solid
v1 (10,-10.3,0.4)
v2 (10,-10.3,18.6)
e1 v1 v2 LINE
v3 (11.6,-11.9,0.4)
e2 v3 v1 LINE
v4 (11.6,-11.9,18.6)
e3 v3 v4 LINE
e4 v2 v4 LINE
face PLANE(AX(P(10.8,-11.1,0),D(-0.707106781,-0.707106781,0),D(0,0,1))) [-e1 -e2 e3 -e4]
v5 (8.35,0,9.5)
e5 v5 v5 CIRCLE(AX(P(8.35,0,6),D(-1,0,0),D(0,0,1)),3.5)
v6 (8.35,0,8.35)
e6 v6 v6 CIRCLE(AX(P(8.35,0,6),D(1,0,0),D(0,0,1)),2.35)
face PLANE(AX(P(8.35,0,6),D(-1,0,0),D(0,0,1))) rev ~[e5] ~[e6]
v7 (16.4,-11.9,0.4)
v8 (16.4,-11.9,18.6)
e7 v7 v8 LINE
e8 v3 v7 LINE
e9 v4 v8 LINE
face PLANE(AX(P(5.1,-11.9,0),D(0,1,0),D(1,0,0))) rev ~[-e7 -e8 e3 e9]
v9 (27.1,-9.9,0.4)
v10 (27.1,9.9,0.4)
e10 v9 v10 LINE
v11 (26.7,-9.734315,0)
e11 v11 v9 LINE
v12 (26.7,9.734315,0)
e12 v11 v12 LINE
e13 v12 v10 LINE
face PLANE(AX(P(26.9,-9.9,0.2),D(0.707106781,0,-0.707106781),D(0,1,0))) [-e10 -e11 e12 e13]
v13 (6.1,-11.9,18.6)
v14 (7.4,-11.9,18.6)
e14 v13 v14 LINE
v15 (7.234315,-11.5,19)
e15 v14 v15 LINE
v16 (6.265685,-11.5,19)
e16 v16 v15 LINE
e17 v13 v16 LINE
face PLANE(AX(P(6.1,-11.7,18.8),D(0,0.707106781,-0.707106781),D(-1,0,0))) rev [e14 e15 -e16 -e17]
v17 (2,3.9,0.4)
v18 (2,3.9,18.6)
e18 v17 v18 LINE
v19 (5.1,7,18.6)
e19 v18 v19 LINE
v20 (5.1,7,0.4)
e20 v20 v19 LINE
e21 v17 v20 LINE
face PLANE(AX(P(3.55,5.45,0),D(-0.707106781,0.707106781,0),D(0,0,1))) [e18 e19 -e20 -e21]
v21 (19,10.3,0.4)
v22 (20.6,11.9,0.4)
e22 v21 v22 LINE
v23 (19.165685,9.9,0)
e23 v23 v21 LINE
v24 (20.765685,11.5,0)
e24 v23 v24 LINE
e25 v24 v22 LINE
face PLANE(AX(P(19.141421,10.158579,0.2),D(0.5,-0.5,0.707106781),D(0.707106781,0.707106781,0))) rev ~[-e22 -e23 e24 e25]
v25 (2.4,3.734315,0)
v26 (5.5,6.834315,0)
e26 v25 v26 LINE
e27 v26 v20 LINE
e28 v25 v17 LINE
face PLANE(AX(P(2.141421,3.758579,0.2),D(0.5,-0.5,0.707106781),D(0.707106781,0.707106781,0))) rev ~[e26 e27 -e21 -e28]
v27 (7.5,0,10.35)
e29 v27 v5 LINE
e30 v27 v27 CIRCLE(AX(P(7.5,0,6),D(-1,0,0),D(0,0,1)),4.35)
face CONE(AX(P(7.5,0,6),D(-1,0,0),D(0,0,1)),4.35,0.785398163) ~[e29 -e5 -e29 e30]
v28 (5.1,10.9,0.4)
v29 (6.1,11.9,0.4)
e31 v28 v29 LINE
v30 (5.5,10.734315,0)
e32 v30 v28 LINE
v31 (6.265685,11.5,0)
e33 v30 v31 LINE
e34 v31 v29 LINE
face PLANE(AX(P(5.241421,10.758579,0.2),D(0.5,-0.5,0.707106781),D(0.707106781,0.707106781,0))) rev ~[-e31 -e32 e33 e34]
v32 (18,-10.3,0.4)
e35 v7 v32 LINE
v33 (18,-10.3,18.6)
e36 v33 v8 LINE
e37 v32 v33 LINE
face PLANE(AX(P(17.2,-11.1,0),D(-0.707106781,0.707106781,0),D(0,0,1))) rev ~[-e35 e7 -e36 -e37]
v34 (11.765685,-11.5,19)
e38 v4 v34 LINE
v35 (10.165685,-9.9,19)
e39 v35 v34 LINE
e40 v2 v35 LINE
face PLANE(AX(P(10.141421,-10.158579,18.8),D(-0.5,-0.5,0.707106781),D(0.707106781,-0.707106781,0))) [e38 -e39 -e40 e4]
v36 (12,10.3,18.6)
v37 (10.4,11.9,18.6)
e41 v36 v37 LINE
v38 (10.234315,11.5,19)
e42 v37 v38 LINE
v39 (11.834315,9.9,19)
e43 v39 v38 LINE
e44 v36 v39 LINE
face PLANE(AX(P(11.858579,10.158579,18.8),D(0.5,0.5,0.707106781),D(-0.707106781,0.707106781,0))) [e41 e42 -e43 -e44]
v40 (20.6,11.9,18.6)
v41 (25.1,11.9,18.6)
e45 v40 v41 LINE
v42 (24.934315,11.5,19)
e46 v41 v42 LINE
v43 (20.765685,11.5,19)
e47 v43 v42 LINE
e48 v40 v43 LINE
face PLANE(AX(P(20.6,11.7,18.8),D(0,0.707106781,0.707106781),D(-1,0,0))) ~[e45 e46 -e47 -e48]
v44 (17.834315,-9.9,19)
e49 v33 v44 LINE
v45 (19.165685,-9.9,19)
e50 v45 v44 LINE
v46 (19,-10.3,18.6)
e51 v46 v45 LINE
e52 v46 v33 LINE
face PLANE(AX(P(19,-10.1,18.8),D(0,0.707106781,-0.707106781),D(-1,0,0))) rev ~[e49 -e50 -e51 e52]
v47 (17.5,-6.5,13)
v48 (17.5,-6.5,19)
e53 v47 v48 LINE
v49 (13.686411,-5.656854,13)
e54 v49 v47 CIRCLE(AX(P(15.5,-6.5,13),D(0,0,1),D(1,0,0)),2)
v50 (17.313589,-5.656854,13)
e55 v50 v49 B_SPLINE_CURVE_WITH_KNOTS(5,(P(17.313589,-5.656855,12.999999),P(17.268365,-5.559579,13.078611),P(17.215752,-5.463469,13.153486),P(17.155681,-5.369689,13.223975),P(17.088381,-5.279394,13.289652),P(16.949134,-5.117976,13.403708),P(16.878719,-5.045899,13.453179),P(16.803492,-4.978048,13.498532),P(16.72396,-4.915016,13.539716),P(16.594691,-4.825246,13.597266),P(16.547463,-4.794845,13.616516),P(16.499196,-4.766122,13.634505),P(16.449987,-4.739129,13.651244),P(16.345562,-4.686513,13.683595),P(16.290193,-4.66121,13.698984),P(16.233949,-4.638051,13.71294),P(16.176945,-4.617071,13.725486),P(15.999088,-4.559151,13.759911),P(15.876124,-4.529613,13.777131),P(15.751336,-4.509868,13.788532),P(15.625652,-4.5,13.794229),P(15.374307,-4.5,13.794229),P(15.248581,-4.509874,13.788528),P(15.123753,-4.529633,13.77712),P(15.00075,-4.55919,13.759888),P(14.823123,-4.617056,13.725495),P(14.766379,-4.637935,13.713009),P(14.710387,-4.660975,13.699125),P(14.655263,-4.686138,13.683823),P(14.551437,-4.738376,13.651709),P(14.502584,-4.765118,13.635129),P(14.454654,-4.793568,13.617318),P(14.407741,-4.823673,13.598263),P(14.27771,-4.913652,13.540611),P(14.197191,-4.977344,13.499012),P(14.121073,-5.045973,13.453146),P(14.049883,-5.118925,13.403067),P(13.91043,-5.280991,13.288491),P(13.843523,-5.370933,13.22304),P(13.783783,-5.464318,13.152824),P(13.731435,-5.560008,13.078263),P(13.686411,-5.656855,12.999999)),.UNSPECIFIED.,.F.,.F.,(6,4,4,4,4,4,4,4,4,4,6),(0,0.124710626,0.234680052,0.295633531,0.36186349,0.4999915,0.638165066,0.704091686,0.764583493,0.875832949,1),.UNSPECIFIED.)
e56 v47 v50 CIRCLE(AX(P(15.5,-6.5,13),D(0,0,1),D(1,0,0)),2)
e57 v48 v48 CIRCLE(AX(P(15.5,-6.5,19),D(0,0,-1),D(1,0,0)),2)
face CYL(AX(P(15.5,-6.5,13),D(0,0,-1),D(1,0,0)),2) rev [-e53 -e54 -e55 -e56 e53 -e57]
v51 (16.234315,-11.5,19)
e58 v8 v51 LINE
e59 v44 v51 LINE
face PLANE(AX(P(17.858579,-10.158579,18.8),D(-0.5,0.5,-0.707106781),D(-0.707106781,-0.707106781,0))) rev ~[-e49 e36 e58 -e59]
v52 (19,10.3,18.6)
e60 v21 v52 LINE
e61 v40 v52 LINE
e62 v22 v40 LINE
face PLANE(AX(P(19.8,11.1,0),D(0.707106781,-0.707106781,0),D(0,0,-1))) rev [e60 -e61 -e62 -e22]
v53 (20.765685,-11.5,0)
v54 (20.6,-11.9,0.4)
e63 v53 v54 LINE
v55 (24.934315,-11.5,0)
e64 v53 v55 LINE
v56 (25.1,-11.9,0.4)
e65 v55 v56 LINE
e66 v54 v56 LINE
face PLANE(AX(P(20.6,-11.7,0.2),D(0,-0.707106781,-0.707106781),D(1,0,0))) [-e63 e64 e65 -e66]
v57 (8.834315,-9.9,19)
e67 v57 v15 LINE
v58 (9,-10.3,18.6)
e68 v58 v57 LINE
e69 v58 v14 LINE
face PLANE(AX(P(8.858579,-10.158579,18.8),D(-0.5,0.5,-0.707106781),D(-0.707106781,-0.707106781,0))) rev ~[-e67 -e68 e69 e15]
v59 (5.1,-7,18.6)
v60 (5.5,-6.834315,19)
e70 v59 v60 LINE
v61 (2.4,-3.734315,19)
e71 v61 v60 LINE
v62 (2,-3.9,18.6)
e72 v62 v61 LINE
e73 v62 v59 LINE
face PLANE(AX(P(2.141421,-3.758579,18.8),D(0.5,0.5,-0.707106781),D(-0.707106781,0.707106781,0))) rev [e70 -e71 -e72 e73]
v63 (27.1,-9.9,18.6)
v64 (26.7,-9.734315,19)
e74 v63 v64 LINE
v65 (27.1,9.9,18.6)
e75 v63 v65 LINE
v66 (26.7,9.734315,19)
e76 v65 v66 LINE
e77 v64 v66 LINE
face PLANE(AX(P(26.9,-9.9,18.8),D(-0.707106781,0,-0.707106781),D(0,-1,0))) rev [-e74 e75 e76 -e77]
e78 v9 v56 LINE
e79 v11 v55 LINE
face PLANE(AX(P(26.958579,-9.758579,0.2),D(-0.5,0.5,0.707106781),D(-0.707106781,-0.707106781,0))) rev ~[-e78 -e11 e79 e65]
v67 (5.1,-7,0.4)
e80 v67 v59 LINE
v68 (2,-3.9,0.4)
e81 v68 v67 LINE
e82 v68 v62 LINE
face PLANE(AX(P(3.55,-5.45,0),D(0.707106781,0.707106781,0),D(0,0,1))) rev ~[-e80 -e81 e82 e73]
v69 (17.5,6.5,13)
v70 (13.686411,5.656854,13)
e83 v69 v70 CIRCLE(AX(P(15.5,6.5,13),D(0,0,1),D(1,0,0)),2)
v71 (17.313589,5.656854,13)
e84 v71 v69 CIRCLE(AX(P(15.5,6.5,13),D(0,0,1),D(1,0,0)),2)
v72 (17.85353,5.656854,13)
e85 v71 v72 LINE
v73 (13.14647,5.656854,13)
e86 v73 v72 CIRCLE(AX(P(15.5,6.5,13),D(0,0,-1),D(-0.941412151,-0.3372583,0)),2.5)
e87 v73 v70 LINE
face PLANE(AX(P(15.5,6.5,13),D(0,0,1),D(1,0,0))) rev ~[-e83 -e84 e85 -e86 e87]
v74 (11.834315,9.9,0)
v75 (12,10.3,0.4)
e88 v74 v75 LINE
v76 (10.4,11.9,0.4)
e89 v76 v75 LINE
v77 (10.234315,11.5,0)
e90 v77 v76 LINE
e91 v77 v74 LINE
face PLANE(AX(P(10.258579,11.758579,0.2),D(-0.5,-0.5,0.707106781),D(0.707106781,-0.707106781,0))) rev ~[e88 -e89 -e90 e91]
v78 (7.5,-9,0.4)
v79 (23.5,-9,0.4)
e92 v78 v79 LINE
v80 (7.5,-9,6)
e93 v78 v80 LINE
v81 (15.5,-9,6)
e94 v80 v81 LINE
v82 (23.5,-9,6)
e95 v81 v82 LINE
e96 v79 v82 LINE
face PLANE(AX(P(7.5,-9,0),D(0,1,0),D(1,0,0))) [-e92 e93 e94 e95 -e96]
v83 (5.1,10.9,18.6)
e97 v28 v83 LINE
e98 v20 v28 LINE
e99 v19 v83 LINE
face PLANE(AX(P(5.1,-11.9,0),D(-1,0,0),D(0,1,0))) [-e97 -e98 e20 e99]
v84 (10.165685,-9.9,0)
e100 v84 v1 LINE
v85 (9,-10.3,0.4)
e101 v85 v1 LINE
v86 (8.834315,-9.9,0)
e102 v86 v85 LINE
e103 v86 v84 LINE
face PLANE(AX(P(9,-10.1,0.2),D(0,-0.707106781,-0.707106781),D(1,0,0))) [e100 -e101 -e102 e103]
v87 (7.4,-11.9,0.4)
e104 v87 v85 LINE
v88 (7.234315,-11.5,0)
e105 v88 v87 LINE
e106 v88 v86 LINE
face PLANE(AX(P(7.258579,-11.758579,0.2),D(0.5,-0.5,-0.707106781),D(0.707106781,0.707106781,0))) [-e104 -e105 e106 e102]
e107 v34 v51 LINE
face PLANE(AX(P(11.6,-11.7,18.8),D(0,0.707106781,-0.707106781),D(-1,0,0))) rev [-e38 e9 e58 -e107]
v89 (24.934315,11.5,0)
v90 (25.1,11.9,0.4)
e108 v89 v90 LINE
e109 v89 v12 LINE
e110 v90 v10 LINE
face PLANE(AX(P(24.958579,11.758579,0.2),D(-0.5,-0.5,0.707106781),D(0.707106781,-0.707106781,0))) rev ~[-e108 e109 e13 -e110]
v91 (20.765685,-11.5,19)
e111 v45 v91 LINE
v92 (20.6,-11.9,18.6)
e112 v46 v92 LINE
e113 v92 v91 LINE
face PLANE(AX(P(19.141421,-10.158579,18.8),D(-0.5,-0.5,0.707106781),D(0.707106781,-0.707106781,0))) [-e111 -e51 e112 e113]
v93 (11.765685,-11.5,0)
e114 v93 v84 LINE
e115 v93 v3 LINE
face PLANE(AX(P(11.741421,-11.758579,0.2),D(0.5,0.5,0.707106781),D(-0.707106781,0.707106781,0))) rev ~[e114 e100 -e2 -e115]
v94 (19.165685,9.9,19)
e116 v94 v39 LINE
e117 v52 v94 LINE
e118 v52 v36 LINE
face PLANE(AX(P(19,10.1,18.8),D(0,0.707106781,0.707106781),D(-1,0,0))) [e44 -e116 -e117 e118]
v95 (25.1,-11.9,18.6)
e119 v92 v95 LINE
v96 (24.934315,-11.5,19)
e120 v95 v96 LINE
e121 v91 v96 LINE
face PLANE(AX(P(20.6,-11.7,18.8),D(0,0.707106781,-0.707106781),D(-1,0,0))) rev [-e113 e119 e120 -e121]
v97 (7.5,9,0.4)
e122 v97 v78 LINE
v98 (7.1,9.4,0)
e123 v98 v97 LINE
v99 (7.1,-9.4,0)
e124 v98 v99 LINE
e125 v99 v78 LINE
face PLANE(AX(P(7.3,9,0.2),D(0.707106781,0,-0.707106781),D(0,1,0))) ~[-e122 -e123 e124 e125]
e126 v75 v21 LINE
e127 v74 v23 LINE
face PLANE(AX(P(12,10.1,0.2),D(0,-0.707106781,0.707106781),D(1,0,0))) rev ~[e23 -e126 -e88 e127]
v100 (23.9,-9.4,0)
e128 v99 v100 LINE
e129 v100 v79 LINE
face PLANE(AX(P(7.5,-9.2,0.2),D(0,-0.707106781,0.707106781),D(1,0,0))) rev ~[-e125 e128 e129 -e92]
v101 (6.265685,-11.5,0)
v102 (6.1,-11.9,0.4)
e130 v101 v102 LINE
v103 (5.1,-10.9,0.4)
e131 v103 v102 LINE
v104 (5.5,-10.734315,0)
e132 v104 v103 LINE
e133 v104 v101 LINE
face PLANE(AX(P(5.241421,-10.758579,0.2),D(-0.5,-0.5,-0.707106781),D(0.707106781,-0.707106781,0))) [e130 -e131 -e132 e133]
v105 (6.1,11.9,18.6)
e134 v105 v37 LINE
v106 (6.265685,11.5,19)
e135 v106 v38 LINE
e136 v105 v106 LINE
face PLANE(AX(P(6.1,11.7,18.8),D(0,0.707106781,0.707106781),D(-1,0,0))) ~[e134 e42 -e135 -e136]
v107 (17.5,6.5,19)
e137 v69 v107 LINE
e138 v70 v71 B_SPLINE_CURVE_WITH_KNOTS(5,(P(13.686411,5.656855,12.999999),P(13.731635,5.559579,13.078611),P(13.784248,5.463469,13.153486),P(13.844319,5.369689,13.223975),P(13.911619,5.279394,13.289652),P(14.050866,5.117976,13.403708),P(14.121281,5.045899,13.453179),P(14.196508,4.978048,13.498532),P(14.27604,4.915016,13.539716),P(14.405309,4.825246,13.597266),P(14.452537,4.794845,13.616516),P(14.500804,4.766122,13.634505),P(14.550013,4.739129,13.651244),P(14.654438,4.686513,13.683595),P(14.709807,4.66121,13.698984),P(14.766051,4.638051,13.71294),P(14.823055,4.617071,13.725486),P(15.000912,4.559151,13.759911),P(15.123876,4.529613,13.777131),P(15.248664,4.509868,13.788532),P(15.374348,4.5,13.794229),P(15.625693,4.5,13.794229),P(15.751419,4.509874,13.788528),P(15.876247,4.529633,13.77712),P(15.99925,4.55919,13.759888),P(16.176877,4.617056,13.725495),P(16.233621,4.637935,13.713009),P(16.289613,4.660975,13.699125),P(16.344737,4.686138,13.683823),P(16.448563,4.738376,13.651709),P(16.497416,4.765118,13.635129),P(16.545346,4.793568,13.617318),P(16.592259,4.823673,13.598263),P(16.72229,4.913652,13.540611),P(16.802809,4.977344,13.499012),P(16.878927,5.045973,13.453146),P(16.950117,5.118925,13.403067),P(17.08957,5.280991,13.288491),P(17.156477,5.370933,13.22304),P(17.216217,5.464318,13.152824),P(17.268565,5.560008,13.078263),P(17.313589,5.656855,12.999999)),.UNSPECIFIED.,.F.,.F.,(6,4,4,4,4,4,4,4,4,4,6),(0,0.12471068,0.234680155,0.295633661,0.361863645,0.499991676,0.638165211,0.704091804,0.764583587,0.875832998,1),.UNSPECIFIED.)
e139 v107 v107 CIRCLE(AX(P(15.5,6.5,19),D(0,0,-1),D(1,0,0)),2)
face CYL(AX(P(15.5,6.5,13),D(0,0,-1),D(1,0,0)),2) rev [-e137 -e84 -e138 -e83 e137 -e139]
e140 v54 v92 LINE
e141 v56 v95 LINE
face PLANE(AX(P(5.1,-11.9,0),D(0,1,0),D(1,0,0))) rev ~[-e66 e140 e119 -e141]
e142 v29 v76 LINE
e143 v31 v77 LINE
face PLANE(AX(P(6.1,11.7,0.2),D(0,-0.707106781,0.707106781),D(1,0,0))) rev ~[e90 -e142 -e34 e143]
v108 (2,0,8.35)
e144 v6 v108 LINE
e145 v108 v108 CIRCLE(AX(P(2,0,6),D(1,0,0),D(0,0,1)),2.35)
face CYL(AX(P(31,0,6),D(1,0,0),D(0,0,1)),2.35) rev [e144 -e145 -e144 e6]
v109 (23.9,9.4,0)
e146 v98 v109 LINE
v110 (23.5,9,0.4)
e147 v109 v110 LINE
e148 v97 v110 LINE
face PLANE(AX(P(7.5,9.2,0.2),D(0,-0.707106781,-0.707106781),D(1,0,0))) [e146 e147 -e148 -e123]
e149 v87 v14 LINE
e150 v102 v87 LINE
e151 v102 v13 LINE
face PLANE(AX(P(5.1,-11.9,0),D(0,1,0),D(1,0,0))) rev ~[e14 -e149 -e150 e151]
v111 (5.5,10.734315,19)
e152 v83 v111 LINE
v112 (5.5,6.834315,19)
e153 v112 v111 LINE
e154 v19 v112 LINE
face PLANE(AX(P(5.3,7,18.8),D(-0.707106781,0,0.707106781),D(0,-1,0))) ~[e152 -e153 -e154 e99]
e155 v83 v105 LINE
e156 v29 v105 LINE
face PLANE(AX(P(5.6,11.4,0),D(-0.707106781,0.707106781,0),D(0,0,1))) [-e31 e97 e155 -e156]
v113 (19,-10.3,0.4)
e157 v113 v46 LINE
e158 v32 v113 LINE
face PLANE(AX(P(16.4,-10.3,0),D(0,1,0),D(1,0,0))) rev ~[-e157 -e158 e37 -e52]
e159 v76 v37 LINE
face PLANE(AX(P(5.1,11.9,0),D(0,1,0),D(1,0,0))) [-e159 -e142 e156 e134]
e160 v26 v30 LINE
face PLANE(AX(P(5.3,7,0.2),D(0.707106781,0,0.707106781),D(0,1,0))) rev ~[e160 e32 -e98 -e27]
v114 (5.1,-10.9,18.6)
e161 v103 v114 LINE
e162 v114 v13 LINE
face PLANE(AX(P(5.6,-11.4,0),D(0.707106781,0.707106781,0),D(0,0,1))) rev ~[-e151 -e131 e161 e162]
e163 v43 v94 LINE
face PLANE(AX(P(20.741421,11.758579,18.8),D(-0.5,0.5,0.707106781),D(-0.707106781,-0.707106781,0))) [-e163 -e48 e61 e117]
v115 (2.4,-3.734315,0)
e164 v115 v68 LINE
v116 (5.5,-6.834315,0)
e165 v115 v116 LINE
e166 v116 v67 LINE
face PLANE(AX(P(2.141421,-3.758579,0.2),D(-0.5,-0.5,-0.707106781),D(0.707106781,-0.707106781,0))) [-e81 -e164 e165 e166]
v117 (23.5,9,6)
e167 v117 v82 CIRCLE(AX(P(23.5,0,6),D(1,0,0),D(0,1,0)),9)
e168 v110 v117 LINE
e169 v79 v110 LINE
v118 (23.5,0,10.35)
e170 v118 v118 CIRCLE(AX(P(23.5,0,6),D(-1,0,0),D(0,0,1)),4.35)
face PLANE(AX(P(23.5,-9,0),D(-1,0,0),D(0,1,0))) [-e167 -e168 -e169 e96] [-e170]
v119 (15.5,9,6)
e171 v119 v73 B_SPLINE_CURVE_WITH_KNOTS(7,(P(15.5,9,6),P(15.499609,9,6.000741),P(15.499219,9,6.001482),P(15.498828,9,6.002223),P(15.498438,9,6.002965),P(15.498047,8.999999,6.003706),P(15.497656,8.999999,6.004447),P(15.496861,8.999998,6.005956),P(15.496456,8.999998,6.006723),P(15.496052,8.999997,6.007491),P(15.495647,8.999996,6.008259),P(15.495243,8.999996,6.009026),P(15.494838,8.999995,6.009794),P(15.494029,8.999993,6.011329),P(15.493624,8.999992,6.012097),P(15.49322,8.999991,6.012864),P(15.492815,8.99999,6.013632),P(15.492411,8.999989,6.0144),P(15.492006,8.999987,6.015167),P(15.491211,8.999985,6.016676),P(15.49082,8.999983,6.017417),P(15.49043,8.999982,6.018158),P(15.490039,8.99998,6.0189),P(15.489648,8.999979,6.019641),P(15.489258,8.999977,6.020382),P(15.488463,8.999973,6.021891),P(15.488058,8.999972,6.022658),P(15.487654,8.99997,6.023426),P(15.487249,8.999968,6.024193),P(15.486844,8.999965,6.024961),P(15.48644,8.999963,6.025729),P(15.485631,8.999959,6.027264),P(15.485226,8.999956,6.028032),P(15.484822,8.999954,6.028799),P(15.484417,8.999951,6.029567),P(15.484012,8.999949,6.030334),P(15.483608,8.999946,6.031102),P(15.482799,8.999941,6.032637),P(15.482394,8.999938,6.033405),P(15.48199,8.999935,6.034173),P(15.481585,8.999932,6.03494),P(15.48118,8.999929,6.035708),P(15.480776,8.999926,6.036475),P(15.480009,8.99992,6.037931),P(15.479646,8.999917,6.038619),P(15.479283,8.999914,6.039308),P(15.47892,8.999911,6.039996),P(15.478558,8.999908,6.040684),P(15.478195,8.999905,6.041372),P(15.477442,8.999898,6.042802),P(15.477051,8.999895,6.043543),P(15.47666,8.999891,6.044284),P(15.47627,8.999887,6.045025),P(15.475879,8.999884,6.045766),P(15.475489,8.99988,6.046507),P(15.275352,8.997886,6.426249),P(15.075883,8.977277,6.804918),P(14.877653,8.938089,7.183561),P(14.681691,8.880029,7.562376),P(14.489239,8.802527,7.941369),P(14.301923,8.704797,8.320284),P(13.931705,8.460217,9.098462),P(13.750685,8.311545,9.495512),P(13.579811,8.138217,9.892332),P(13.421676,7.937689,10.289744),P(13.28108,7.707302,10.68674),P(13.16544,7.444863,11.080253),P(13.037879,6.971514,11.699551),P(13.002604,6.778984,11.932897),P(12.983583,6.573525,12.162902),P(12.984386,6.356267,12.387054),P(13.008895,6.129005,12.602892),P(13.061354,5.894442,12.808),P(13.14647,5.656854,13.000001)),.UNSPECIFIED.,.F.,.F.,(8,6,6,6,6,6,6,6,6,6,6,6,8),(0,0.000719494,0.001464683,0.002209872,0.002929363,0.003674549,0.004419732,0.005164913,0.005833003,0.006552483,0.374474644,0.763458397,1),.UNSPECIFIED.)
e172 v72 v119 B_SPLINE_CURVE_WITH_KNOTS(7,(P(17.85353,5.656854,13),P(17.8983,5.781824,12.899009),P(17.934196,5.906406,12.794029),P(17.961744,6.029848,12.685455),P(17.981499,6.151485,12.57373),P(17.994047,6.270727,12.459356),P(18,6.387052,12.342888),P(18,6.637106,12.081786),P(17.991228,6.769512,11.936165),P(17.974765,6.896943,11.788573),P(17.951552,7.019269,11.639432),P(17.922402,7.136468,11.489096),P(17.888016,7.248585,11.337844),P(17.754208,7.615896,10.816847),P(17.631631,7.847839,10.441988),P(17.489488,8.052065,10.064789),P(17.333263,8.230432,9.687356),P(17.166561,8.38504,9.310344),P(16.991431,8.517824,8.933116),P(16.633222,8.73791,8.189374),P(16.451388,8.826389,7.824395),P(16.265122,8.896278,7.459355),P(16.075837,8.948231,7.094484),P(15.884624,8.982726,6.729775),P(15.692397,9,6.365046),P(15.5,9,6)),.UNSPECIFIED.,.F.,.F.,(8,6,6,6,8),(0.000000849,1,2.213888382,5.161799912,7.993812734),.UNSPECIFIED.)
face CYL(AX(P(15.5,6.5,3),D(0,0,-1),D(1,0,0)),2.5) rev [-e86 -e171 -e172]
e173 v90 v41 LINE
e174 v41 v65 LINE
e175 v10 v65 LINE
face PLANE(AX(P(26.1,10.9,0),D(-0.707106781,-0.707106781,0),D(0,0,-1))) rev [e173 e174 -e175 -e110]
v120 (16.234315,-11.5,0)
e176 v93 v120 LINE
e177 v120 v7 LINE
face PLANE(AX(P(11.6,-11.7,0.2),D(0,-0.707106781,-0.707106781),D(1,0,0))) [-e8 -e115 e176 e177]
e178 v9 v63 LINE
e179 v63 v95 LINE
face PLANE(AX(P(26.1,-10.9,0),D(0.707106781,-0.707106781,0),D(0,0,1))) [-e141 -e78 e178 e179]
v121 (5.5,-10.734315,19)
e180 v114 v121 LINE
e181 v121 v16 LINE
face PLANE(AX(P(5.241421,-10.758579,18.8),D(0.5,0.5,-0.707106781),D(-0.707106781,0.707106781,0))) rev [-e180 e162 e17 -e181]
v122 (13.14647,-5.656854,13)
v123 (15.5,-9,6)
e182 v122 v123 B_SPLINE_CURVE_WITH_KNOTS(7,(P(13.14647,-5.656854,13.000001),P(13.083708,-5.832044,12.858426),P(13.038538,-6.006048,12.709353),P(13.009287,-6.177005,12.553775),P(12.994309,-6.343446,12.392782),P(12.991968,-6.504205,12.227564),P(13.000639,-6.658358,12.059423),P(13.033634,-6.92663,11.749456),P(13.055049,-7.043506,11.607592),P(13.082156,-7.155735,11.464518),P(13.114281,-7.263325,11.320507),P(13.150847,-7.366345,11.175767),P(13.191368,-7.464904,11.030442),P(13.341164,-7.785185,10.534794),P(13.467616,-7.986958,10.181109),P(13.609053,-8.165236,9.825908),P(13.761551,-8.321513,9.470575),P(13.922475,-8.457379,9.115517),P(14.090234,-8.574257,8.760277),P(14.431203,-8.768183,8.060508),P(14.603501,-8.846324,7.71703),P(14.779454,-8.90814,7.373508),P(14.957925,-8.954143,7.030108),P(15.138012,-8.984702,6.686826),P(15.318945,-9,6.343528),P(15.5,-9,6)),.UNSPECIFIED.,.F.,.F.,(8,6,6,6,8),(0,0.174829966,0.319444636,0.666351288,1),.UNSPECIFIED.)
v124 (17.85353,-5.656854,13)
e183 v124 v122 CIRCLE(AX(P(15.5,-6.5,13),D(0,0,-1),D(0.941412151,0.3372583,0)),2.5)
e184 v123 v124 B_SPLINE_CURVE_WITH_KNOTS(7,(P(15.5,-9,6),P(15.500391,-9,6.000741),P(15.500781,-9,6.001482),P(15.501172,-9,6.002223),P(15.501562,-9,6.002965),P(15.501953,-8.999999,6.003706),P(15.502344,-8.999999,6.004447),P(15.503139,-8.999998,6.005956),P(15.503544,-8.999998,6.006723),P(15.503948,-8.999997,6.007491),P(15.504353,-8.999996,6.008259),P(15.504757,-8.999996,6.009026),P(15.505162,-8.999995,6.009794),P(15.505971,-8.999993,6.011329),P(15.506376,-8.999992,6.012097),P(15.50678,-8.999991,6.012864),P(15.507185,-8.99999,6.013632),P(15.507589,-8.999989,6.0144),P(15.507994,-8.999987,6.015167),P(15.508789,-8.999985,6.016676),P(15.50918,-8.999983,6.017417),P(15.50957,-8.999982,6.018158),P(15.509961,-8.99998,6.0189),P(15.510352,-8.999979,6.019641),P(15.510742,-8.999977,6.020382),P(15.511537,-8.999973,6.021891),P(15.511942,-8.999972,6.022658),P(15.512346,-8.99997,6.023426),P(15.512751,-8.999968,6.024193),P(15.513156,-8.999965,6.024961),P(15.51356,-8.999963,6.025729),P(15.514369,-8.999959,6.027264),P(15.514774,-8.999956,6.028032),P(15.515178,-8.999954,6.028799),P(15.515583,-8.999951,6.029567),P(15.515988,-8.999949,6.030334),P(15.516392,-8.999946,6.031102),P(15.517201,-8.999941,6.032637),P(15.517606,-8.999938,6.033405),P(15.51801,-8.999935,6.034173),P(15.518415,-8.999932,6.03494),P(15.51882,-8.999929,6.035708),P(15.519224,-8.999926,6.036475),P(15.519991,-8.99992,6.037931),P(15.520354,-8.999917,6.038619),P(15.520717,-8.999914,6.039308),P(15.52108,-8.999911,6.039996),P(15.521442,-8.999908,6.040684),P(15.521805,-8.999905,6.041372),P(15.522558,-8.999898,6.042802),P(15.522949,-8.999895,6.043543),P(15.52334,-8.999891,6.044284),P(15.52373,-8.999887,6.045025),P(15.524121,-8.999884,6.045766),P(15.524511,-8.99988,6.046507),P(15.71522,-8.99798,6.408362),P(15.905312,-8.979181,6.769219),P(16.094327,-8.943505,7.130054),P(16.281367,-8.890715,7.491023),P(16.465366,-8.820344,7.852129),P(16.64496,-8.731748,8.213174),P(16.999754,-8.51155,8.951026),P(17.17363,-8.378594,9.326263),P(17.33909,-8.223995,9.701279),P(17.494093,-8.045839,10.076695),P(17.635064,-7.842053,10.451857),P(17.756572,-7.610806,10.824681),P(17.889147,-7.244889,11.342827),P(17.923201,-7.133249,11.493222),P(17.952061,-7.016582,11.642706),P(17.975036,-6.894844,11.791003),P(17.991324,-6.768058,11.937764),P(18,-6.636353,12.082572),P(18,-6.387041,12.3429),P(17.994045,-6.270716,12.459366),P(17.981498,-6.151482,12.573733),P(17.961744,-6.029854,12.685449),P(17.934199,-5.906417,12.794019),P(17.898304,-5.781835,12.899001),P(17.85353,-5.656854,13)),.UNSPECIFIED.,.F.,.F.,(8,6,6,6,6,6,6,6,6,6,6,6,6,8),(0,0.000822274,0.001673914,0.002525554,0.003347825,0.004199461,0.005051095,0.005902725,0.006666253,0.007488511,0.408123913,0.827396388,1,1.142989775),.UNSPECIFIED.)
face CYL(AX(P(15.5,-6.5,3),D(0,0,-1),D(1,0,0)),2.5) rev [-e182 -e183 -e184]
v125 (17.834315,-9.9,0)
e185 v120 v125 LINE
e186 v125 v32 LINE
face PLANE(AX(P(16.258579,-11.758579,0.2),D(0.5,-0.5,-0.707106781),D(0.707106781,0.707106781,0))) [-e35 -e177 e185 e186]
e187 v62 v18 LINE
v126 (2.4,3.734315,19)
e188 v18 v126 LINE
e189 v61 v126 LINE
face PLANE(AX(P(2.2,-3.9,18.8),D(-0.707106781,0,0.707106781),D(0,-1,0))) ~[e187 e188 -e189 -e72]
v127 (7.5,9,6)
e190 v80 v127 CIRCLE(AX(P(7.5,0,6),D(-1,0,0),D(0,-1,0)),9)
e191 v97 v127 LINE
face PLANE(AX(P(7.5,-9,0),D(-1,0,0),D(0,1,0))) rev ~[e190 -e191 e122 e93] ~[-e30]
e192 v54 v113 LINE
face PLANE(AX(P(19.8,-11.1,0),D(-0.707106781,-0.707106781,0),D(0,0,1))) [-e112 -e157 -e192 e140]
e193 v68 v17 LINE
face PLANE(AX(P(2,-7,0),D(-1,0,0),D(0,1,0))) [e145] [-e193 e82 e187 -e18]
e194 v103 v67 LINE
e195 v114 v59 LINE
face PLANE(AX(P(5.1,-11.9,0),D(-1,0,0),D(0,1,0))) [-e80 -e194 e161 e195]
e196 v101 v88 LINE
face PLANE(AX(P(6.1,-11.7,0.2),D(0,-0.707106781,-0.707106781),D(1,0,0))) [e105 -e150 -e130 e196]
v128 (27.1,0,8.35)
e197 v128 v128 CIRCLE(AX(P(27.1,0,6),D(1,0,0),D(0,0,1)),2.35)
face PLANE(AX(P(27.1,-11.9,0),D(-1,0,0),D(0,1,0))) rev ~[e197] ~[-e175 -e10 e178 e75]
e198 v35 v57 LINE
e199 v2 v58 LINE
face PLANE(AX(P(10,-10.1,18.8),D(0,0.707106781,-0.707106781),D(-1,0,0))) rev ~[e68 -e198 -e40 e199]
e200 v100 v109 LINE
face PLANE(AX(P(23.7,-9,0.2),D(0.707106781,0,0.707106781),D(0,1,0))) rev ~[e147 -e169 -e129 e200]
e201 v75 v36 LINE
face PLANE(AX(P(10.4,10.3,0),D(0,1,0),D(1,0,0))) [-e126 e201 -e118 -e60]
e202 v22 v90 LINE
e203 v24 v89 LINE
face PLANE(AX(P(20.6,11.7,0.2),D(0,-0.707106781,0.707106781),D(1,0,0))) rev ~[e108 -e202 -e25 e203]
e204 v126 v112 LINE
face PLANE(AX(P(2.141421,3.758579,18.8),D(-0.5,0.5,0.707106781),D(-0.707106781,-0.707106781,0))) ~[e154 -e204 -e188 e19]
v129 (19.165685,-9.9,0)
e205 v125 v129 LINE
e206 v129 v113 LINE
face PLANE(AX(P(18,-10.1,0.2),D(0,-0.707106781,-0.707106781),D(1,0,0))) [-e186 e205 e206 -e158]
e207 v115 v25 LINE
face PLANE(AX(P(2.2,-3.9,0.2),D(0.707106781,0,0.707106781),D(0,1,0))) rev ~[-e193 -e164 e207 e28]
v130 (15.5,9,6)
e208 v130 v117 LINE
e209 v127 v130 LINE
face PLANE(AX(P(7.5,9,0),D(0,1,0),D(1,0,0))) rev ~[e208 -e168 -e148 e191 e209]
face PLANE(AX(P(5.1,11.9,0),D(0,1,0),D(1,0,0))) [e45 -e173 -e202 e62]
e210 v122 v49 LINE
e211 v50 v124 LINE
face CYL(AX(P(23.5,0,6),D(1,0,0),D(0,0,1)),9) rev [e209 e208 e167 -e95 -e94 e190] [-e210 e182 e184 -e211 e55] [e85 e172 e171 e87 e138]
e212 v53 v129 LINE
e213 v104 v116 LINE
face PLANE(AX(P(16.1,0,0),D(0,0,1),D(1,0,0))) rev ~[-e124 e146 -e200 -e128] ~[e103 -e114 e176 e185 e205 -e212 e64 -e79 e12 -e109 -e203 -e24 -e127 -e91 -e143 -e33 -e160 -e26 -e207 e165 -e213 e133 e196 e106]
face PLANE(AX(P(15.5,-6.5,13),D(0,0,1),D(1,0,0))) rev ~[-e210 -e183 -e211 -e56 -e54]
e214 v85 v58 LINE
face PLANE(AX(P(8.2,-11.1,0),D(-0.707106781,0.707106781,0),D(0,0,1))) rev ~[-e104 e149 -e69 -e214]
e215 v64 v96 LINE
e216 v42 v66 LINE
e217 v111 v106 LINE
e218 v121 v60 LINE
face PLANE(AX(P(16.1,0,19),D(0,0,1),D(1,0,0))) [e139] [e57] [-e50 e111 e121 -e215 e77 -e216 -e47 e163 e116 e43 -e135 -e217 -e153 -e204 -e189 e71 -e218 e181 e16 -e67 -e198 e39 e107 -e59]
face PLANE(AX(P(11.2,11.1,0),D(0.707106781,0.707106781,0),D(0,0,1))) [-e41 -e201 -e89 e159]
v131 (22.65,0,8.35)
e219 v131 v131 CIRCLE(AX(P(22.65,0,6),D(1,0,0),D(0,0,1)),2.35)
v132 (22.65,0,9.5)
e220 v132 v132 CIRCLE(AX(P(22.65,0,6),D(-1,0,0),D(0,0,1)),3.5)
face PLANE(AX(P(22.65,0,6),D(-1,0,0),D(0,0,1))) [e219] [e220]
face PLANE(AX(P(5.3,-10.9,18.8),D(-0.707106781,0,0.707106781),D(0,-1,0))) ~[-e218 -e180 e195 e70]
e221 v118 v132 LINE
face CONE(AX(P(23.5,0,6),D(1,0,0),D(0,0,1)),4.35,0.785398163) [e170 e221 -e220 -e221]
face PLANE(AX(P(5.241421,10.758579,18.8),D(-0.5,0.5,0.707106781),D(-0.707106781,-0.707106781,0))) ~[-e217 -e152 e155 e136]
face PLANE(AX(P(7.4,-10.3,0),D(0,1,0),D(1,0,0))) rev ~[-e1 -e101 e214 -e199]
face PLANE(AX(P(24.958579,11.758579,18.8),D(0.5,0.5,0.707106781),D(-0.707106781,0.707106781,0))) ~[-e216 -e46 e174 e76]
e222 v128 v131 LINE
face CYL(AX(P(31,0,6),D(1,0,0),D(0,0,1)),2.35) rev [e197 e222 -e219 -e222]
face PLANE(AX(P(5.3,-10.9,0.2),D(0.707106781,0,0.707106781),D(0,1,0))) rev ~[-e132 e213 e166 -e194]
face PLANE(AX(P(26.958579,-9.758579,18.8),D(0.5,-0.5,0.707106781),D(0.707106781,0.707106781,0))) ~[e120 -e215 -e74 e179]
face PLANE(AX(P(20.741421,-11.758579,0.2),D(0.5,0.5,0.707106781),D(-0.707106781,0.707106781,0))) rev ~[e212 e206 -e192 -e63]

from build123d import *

# Parameters (mm, degrees)
CYLINDER015_R         = 2.35
CYLINDER015_DEPTH     = 33
CYLINDER016_R         = 4.35
CYLINDER016_DEPTH     = 1
CYLINDER017_R         = 4.35
CYLINDER017_DEPTH     = 1
CHAMFER003036_SIZE    = 0.85
CYLINDER021_R         = 2.5
CYLINDER021_DEPTH     = 10
CYLINDER019_R         = 2
CYLINDER019_DEPTH     = 10
CYLINDER018_R         = 2
CYLINDER018_DEPTH     = 10
CYLINDER020_R         = 2.5
CYLINDER020_DEPTH     = 10
BOX011_W              = 16
BOX011_H              = 18
BOX011_DEPTH          = 6
CYLINDER014_R         = 9
CYLINDER014_DEPTH     = 16
BOX014_W              = 4.2
BOX014_H              = 10
BOX014_DEPTH          = 22
BOX025_W              = 4.2
BOX025_H              = 10
BOX025_DEPTH          = 22
BOX013_W              = 10.2
BOX013_H              = 10
BOX013_DEPTH          = 22
CHAMFER003068003_SIZE = 1.6
BOX012_W              = 22
BOX012_H              = 23.8
BOX012_DEPTH          = 19
CHAMFER003068004_SIZE = 1
CHAMFER003068005_SIZE = 2
BOX037_W              = 5
BOX037_H              = 14
BOX037_DEPTH          = 19
CHAMFER003068011_SIZE = 3.1
CHAMFER003068012_SIZE = 0.4


with BuildPart() as cylinder015:
    # Cylinder015 → Cylinder015 (new body)
    with BuildSketch(Plane(origin=(31, 0, 6), x_dir=(0, 0, 1), z_dir=(-1, 0, 0))):
        Circle(CYLINDER015_R)
    extrude(amount=CYLINDER015_DEPTH)


with BuildPart() as cylinder016:
    # Cylinder016 → Cylinder016 (new body)
    with BuildSketch(Plane(origin=(23.15, 0, 6), x_dir=(0, 0, 1), z_dir=(-1, 0, 0))):
        Circle(CYLINDER016_R)
    extrude(amount=CYLINDER016_DEPTH)


with BuildPart() as chamfer003036:
    # Cylinder017 → Cylinder017 (new body)
    with BuildSketch(Plane(origin=(7.85, 0, 6), x_dir=(0, 0, 1), z_dir=(-1, 0, 0))):
        Circle(CYLINDER017_R)
    extrude(amount=CYLINDER017_DEPTH)

    # Fusion013005011005: union Cylinder016
    add(cylinder016.part)

    # Chamfer003036
    chamfer003036_edges = [chamfer003036.edges().sort_by_distance(p)[0] for p in [
        (7.85, 0, 1.65),
        (22.15, 0, 1.65),
    ]]
    chamfer(chamfer003036_edges, length=CHAMFER003036_SIZE)


with BuildPart() as cylinder021:
    # Cylinder021 → Cylinder021 (new body)
    with BuildSketch(Plane(origin=(15, 6.5, 3), x_dir=(1, 0, 0), z_dir=(0, 0, 1))):
        Circle(CYLINDER021_R)
    extrude(amount=CYLINDER021_DEPTH)


with BuildPart() as cylinder019:
    # Cylinder019 → Cylinder019 (new body)
    with BuildSketch(Plane(origin=(15, 6.5, 13), x_dir=(1, 0, 0), z_dir=(0, 0, 1))):
        Circle(CYLINDER019_R)
    extrude(amount=CYLINDER019_DEPTH)


with BuildPart() as fusion013005011029006008001003:
    # Cylinder018 → Cylinder018 (new body)
    with BuildSketch(Plane(origin=(15, -6.5, 13), x_dir=(1, 0, 0), z_dir=(0, 0, 1))):
        Circle(CYLINDER018_R)
    extrude(amount=CYLINDER018_DEPTH)

    # Fusion013005011029006008001003: union Cylinder019
    add(cylinder019.part)


with BuildPart() as cylinder020:
    # Cylinder020 → Cylinder020 (new body)
    with BuildSketch(Plane(origin=(15, -6.5, 3), x_dir=(1, 0, 0), z_dir=(0, 0, 1))):
        Circle(CYLINDER020_R)
    extrude(amount=CYLINDER020_DEPTH)


with BuildPart() as fusion013005011029006008001004:
    # Fusion013005011029006008001004 base: copy of Cylinder020
    add(cylinder020.part)

    # Fusion013005011029006008001004: union Cylinder021
    add(cylinder021.part)


with BuildPart() as fusion013005011029006008001005:
    # Fusion013005011029006008001005 base: copy of Cylinder020
    add(cylinder020.part)

    # Fusion013005011029006008001005: union Cylinder021, Fusion013005011029006008001003, Fusion013005011029006008001004
    add(cylinder021.part)
    add(fusion013005011029006008001003.part)
    add(fusion013005011029006008001004.part)


with BuildPart() as cube011:
    # Box011 → Box011 (new body)
    with BuildSketch(Plane(origin=(7, -9, 0), x_dir=(1, 0, 0), z_dir=(0, 0, 1))):
        with Locations((8, 9)):
            Rectangle(BOX011_W, BOX011_H)
    extrude(amount=BOX011_DEPTH)


with BuildPart() as fusion013005011004:
    # Cylinder014 → Cylinder014 (new body)
    with BuildSketch(Plane(origin=(23, 0, 6), x_dir=(0, 0, 1), z_dir=(-1, 0, 0))):
        Circle(CYLINDER014_R)
    extrude(amount=CYLINDER014_DEPTH)

    # Fusion013005011004: union Cube011
    add(cube011.part)


with BuildPart() as cube014:
    # Box014 → Box014 (new body)
    with BuildSketch(Plane(origin=(6.9, -20.3, 0), x_dir=(1, 0, 0), z_dir=(0, 0, 1))):
        with Locations((2.1, 5)):
            Rectangle(BOX014_W, BOX014_H)
    extrude(amount=BOX014_DEPTH)


with BuildPart() as cube023:
    # Box025 → Box025 (new body)
    with BuildSketch(Plane(origin=(15.9, -20.3, 0), x_dir=(1, 0, 0), z_dir=(0, 0, 1))):
        with Locations((2.1, 5)):
            Rectangle(BOX025_W, BOX025_H)
    extrude(amount=BOX025_DEPTH)


with BuildPart() as chamfer003068003:
    # Box013 → Box013 (new body)
    with BuildSketch(Plane(origin=(9.9, 10.3, 0), x_dir=(1, 0, 0), z_dir=(0, 0, 1))):
        with Locations((5.1, 5)):
            Rectangle(BOX013_W, BOX013_H)
    extrude(amount=BOX013_DEPTH)

    # Fusion013005011029006008001002: union Cube014, Cube023
    add(cube014.part)
    add(cube023.part)

    # Chamfer003068003
    chamfer003068003_edges = [chamfer003068003.edges().sort_by_distance(p)[0] for p in [
        (9.9, 10.3, 11),
        (20.1, 10.3, 11),
        (6.9, -10.3, 11),
        (11.1, -10.3, 11),
        (15.9, -10.3, 11),
        (20.1, -10.3, 11),
    ]]
    chamfer(chamfer003068003_edges, length=CHAMFER003068003_SIZE)


with BuildPart() as chamfer003068005:
    # Box012 → Box012 (new body)
    with BuildSketch(Plane(origin=(4.6, -11.9, 0), x_dir=(1, 0, 0), z_dir=(0, 0, 1))):
        with Locations((11, 11.9)):
            Rectangle(BOX012_W, BOX012_H)
    extrude(amount=BOX012_DEPTH)

    # Cut001001036003: cut Chamfer003068003
    add(chamfer003068003.part, mode=Mode.SUBTRACT)

    # Cut001001036004: cut Fusion013005011004
    add(fusion013005011004.part, mode=Mode.SUBTRACT)

    # Cut001001036005: cut Fusion013005011029006008001005
    add(fusion013005011029006008001005.part, mode=Mode.SUBTRACT)

    # Fusion013005011029006008001006: union Chamfer003036
    add(chamfer003036.part)

    # Chamfer003068004
    chamfer003068004_edges = [chamfer003068005.edges().sort_by_distance(p)[0] for p in [
        (4.6, -11.9, 9.5),
        (4.6, 11.9, 9.5),
    ]]
    chamfer(chamfer003068004_edges, length=CHAMFER003068004_SIZE)

    # Chamfer003068005
    chamfer003068005_edges = [chamfer003068005.edges().sort_by_distance(p)[0] for p in [
        (26.6, 11.9, 9.5),
        (26.6, -11.9, 9.5),
    ]]
    chamfer(chamfer003068005_edges, length=CHAMFER003068005_SIZE)


with BuildPart() as chamfer003068005_1:
    # Chamfer003068005 placement: moved
    add(chamfer003068005.part.moved(Location((0.5, 0, 0))))


with BuildPart() as chamfer003068012:
    # Box037 → Box037 (new body)
    with BuildSketch(Plane(origin=(2, -7, 0), x_dir=(1, 0, 0), z_dir=(0, 0, 1))):
        with Locations((2.5, 7)):
            Rectangle(BOX037_W, BOX037_H)
    extrude(amount=BOX037_DEPTH)

    # Chamfer003068011
    chamfer003068011_edges = [chamfer003068012.edges().sort_by_distance(p)[0] for p in [
        (2, -7, 9.5),
        (2, 7, 9.5),
    ]]
    chamfer(chamfer003068011_edges, length=CHAMFER003068011_SIZE)

    # Fusion013005011029006008001009: union Chamfer003068005
    add(chamfer003068005_1.part)

    # Cut001001036010002: cut Cylinder015
    add(cylinder015.part, mode=Mode.SUBTRACT)

    # Chamfer003068012
    chamfer003068012_edges = [chamfer003068012.edges().sort_by_distance(p)[0] for p in [
        (2, 0, 19),
        (2, 0, 0),
        (3.55, -5.45, 0),
        (3.55, -5.45, 19),
        (3.55, 5.45, 0),
        (3.55, 5.45, 19),
        (5.1, -8.95, 19),
        (5.1, -8.95, 0),
        (5.1, 8.95, 19),
        (5.1, 8.95, 0),
        (5.6, -11.4, 0),
        (5.6, -11.4, 19),
        (5.6, 11.4, 0),
        (5.6, 11.4, 19),
        (6.75, -11.9, 0),
        (6.75, -11.9, 19),
        (22.85, -11.9, 0),
        (22.85, -11.9, 19),
        (19.8, -11.1, 0),
        (19.8, -11.1, 19),
        (18.5, -10.3, 0),
        (18.5, -10.3, 19),
        (17.2, -11.1, 0),
        (17.2, -11.1, 19),
        (14, -11.9, 0),
        (14, -11.9, 19),
        (10.8, -11.1, 0),
        (10.8, -11.1, 19),
        (9.5, -10.3, 0),
        (9.5, -10.3, 19),
        (8.2, -11.1, 0),
        (8.2, -11.1, 19),
        (8.25, 11.9, 0),
        (8.25, 11.9, 19),
        (11.2, 11.1, 0),
        (11.2, 11.1, 19),
        (15.5, 10.3, 0),
        (15.5, 10.3, 19),
        (19.8, 11.1, 0),
        (19.8, 11.1, 19),
        (22.85, 11.9, 0),
        (22.85, 11.9, 19),
        (26.1, 10.9, 0),
        (26.1, 10.9, 19),
        (27.1, 0, 19),
        (27.1, 0, 0),
        (26.1, -10.9, 0),
        (26.1, -10.9, 19),
        (23.5, 0, 0),
        (15.5, 9, 0),
        (7.5, 0, 0),
        (15.5, -9, 0),
    ]]
    chamfer(chamfer003068012_edges, length=CHAMFER003068012_SIZE)


solid = chamfer003068012.part
